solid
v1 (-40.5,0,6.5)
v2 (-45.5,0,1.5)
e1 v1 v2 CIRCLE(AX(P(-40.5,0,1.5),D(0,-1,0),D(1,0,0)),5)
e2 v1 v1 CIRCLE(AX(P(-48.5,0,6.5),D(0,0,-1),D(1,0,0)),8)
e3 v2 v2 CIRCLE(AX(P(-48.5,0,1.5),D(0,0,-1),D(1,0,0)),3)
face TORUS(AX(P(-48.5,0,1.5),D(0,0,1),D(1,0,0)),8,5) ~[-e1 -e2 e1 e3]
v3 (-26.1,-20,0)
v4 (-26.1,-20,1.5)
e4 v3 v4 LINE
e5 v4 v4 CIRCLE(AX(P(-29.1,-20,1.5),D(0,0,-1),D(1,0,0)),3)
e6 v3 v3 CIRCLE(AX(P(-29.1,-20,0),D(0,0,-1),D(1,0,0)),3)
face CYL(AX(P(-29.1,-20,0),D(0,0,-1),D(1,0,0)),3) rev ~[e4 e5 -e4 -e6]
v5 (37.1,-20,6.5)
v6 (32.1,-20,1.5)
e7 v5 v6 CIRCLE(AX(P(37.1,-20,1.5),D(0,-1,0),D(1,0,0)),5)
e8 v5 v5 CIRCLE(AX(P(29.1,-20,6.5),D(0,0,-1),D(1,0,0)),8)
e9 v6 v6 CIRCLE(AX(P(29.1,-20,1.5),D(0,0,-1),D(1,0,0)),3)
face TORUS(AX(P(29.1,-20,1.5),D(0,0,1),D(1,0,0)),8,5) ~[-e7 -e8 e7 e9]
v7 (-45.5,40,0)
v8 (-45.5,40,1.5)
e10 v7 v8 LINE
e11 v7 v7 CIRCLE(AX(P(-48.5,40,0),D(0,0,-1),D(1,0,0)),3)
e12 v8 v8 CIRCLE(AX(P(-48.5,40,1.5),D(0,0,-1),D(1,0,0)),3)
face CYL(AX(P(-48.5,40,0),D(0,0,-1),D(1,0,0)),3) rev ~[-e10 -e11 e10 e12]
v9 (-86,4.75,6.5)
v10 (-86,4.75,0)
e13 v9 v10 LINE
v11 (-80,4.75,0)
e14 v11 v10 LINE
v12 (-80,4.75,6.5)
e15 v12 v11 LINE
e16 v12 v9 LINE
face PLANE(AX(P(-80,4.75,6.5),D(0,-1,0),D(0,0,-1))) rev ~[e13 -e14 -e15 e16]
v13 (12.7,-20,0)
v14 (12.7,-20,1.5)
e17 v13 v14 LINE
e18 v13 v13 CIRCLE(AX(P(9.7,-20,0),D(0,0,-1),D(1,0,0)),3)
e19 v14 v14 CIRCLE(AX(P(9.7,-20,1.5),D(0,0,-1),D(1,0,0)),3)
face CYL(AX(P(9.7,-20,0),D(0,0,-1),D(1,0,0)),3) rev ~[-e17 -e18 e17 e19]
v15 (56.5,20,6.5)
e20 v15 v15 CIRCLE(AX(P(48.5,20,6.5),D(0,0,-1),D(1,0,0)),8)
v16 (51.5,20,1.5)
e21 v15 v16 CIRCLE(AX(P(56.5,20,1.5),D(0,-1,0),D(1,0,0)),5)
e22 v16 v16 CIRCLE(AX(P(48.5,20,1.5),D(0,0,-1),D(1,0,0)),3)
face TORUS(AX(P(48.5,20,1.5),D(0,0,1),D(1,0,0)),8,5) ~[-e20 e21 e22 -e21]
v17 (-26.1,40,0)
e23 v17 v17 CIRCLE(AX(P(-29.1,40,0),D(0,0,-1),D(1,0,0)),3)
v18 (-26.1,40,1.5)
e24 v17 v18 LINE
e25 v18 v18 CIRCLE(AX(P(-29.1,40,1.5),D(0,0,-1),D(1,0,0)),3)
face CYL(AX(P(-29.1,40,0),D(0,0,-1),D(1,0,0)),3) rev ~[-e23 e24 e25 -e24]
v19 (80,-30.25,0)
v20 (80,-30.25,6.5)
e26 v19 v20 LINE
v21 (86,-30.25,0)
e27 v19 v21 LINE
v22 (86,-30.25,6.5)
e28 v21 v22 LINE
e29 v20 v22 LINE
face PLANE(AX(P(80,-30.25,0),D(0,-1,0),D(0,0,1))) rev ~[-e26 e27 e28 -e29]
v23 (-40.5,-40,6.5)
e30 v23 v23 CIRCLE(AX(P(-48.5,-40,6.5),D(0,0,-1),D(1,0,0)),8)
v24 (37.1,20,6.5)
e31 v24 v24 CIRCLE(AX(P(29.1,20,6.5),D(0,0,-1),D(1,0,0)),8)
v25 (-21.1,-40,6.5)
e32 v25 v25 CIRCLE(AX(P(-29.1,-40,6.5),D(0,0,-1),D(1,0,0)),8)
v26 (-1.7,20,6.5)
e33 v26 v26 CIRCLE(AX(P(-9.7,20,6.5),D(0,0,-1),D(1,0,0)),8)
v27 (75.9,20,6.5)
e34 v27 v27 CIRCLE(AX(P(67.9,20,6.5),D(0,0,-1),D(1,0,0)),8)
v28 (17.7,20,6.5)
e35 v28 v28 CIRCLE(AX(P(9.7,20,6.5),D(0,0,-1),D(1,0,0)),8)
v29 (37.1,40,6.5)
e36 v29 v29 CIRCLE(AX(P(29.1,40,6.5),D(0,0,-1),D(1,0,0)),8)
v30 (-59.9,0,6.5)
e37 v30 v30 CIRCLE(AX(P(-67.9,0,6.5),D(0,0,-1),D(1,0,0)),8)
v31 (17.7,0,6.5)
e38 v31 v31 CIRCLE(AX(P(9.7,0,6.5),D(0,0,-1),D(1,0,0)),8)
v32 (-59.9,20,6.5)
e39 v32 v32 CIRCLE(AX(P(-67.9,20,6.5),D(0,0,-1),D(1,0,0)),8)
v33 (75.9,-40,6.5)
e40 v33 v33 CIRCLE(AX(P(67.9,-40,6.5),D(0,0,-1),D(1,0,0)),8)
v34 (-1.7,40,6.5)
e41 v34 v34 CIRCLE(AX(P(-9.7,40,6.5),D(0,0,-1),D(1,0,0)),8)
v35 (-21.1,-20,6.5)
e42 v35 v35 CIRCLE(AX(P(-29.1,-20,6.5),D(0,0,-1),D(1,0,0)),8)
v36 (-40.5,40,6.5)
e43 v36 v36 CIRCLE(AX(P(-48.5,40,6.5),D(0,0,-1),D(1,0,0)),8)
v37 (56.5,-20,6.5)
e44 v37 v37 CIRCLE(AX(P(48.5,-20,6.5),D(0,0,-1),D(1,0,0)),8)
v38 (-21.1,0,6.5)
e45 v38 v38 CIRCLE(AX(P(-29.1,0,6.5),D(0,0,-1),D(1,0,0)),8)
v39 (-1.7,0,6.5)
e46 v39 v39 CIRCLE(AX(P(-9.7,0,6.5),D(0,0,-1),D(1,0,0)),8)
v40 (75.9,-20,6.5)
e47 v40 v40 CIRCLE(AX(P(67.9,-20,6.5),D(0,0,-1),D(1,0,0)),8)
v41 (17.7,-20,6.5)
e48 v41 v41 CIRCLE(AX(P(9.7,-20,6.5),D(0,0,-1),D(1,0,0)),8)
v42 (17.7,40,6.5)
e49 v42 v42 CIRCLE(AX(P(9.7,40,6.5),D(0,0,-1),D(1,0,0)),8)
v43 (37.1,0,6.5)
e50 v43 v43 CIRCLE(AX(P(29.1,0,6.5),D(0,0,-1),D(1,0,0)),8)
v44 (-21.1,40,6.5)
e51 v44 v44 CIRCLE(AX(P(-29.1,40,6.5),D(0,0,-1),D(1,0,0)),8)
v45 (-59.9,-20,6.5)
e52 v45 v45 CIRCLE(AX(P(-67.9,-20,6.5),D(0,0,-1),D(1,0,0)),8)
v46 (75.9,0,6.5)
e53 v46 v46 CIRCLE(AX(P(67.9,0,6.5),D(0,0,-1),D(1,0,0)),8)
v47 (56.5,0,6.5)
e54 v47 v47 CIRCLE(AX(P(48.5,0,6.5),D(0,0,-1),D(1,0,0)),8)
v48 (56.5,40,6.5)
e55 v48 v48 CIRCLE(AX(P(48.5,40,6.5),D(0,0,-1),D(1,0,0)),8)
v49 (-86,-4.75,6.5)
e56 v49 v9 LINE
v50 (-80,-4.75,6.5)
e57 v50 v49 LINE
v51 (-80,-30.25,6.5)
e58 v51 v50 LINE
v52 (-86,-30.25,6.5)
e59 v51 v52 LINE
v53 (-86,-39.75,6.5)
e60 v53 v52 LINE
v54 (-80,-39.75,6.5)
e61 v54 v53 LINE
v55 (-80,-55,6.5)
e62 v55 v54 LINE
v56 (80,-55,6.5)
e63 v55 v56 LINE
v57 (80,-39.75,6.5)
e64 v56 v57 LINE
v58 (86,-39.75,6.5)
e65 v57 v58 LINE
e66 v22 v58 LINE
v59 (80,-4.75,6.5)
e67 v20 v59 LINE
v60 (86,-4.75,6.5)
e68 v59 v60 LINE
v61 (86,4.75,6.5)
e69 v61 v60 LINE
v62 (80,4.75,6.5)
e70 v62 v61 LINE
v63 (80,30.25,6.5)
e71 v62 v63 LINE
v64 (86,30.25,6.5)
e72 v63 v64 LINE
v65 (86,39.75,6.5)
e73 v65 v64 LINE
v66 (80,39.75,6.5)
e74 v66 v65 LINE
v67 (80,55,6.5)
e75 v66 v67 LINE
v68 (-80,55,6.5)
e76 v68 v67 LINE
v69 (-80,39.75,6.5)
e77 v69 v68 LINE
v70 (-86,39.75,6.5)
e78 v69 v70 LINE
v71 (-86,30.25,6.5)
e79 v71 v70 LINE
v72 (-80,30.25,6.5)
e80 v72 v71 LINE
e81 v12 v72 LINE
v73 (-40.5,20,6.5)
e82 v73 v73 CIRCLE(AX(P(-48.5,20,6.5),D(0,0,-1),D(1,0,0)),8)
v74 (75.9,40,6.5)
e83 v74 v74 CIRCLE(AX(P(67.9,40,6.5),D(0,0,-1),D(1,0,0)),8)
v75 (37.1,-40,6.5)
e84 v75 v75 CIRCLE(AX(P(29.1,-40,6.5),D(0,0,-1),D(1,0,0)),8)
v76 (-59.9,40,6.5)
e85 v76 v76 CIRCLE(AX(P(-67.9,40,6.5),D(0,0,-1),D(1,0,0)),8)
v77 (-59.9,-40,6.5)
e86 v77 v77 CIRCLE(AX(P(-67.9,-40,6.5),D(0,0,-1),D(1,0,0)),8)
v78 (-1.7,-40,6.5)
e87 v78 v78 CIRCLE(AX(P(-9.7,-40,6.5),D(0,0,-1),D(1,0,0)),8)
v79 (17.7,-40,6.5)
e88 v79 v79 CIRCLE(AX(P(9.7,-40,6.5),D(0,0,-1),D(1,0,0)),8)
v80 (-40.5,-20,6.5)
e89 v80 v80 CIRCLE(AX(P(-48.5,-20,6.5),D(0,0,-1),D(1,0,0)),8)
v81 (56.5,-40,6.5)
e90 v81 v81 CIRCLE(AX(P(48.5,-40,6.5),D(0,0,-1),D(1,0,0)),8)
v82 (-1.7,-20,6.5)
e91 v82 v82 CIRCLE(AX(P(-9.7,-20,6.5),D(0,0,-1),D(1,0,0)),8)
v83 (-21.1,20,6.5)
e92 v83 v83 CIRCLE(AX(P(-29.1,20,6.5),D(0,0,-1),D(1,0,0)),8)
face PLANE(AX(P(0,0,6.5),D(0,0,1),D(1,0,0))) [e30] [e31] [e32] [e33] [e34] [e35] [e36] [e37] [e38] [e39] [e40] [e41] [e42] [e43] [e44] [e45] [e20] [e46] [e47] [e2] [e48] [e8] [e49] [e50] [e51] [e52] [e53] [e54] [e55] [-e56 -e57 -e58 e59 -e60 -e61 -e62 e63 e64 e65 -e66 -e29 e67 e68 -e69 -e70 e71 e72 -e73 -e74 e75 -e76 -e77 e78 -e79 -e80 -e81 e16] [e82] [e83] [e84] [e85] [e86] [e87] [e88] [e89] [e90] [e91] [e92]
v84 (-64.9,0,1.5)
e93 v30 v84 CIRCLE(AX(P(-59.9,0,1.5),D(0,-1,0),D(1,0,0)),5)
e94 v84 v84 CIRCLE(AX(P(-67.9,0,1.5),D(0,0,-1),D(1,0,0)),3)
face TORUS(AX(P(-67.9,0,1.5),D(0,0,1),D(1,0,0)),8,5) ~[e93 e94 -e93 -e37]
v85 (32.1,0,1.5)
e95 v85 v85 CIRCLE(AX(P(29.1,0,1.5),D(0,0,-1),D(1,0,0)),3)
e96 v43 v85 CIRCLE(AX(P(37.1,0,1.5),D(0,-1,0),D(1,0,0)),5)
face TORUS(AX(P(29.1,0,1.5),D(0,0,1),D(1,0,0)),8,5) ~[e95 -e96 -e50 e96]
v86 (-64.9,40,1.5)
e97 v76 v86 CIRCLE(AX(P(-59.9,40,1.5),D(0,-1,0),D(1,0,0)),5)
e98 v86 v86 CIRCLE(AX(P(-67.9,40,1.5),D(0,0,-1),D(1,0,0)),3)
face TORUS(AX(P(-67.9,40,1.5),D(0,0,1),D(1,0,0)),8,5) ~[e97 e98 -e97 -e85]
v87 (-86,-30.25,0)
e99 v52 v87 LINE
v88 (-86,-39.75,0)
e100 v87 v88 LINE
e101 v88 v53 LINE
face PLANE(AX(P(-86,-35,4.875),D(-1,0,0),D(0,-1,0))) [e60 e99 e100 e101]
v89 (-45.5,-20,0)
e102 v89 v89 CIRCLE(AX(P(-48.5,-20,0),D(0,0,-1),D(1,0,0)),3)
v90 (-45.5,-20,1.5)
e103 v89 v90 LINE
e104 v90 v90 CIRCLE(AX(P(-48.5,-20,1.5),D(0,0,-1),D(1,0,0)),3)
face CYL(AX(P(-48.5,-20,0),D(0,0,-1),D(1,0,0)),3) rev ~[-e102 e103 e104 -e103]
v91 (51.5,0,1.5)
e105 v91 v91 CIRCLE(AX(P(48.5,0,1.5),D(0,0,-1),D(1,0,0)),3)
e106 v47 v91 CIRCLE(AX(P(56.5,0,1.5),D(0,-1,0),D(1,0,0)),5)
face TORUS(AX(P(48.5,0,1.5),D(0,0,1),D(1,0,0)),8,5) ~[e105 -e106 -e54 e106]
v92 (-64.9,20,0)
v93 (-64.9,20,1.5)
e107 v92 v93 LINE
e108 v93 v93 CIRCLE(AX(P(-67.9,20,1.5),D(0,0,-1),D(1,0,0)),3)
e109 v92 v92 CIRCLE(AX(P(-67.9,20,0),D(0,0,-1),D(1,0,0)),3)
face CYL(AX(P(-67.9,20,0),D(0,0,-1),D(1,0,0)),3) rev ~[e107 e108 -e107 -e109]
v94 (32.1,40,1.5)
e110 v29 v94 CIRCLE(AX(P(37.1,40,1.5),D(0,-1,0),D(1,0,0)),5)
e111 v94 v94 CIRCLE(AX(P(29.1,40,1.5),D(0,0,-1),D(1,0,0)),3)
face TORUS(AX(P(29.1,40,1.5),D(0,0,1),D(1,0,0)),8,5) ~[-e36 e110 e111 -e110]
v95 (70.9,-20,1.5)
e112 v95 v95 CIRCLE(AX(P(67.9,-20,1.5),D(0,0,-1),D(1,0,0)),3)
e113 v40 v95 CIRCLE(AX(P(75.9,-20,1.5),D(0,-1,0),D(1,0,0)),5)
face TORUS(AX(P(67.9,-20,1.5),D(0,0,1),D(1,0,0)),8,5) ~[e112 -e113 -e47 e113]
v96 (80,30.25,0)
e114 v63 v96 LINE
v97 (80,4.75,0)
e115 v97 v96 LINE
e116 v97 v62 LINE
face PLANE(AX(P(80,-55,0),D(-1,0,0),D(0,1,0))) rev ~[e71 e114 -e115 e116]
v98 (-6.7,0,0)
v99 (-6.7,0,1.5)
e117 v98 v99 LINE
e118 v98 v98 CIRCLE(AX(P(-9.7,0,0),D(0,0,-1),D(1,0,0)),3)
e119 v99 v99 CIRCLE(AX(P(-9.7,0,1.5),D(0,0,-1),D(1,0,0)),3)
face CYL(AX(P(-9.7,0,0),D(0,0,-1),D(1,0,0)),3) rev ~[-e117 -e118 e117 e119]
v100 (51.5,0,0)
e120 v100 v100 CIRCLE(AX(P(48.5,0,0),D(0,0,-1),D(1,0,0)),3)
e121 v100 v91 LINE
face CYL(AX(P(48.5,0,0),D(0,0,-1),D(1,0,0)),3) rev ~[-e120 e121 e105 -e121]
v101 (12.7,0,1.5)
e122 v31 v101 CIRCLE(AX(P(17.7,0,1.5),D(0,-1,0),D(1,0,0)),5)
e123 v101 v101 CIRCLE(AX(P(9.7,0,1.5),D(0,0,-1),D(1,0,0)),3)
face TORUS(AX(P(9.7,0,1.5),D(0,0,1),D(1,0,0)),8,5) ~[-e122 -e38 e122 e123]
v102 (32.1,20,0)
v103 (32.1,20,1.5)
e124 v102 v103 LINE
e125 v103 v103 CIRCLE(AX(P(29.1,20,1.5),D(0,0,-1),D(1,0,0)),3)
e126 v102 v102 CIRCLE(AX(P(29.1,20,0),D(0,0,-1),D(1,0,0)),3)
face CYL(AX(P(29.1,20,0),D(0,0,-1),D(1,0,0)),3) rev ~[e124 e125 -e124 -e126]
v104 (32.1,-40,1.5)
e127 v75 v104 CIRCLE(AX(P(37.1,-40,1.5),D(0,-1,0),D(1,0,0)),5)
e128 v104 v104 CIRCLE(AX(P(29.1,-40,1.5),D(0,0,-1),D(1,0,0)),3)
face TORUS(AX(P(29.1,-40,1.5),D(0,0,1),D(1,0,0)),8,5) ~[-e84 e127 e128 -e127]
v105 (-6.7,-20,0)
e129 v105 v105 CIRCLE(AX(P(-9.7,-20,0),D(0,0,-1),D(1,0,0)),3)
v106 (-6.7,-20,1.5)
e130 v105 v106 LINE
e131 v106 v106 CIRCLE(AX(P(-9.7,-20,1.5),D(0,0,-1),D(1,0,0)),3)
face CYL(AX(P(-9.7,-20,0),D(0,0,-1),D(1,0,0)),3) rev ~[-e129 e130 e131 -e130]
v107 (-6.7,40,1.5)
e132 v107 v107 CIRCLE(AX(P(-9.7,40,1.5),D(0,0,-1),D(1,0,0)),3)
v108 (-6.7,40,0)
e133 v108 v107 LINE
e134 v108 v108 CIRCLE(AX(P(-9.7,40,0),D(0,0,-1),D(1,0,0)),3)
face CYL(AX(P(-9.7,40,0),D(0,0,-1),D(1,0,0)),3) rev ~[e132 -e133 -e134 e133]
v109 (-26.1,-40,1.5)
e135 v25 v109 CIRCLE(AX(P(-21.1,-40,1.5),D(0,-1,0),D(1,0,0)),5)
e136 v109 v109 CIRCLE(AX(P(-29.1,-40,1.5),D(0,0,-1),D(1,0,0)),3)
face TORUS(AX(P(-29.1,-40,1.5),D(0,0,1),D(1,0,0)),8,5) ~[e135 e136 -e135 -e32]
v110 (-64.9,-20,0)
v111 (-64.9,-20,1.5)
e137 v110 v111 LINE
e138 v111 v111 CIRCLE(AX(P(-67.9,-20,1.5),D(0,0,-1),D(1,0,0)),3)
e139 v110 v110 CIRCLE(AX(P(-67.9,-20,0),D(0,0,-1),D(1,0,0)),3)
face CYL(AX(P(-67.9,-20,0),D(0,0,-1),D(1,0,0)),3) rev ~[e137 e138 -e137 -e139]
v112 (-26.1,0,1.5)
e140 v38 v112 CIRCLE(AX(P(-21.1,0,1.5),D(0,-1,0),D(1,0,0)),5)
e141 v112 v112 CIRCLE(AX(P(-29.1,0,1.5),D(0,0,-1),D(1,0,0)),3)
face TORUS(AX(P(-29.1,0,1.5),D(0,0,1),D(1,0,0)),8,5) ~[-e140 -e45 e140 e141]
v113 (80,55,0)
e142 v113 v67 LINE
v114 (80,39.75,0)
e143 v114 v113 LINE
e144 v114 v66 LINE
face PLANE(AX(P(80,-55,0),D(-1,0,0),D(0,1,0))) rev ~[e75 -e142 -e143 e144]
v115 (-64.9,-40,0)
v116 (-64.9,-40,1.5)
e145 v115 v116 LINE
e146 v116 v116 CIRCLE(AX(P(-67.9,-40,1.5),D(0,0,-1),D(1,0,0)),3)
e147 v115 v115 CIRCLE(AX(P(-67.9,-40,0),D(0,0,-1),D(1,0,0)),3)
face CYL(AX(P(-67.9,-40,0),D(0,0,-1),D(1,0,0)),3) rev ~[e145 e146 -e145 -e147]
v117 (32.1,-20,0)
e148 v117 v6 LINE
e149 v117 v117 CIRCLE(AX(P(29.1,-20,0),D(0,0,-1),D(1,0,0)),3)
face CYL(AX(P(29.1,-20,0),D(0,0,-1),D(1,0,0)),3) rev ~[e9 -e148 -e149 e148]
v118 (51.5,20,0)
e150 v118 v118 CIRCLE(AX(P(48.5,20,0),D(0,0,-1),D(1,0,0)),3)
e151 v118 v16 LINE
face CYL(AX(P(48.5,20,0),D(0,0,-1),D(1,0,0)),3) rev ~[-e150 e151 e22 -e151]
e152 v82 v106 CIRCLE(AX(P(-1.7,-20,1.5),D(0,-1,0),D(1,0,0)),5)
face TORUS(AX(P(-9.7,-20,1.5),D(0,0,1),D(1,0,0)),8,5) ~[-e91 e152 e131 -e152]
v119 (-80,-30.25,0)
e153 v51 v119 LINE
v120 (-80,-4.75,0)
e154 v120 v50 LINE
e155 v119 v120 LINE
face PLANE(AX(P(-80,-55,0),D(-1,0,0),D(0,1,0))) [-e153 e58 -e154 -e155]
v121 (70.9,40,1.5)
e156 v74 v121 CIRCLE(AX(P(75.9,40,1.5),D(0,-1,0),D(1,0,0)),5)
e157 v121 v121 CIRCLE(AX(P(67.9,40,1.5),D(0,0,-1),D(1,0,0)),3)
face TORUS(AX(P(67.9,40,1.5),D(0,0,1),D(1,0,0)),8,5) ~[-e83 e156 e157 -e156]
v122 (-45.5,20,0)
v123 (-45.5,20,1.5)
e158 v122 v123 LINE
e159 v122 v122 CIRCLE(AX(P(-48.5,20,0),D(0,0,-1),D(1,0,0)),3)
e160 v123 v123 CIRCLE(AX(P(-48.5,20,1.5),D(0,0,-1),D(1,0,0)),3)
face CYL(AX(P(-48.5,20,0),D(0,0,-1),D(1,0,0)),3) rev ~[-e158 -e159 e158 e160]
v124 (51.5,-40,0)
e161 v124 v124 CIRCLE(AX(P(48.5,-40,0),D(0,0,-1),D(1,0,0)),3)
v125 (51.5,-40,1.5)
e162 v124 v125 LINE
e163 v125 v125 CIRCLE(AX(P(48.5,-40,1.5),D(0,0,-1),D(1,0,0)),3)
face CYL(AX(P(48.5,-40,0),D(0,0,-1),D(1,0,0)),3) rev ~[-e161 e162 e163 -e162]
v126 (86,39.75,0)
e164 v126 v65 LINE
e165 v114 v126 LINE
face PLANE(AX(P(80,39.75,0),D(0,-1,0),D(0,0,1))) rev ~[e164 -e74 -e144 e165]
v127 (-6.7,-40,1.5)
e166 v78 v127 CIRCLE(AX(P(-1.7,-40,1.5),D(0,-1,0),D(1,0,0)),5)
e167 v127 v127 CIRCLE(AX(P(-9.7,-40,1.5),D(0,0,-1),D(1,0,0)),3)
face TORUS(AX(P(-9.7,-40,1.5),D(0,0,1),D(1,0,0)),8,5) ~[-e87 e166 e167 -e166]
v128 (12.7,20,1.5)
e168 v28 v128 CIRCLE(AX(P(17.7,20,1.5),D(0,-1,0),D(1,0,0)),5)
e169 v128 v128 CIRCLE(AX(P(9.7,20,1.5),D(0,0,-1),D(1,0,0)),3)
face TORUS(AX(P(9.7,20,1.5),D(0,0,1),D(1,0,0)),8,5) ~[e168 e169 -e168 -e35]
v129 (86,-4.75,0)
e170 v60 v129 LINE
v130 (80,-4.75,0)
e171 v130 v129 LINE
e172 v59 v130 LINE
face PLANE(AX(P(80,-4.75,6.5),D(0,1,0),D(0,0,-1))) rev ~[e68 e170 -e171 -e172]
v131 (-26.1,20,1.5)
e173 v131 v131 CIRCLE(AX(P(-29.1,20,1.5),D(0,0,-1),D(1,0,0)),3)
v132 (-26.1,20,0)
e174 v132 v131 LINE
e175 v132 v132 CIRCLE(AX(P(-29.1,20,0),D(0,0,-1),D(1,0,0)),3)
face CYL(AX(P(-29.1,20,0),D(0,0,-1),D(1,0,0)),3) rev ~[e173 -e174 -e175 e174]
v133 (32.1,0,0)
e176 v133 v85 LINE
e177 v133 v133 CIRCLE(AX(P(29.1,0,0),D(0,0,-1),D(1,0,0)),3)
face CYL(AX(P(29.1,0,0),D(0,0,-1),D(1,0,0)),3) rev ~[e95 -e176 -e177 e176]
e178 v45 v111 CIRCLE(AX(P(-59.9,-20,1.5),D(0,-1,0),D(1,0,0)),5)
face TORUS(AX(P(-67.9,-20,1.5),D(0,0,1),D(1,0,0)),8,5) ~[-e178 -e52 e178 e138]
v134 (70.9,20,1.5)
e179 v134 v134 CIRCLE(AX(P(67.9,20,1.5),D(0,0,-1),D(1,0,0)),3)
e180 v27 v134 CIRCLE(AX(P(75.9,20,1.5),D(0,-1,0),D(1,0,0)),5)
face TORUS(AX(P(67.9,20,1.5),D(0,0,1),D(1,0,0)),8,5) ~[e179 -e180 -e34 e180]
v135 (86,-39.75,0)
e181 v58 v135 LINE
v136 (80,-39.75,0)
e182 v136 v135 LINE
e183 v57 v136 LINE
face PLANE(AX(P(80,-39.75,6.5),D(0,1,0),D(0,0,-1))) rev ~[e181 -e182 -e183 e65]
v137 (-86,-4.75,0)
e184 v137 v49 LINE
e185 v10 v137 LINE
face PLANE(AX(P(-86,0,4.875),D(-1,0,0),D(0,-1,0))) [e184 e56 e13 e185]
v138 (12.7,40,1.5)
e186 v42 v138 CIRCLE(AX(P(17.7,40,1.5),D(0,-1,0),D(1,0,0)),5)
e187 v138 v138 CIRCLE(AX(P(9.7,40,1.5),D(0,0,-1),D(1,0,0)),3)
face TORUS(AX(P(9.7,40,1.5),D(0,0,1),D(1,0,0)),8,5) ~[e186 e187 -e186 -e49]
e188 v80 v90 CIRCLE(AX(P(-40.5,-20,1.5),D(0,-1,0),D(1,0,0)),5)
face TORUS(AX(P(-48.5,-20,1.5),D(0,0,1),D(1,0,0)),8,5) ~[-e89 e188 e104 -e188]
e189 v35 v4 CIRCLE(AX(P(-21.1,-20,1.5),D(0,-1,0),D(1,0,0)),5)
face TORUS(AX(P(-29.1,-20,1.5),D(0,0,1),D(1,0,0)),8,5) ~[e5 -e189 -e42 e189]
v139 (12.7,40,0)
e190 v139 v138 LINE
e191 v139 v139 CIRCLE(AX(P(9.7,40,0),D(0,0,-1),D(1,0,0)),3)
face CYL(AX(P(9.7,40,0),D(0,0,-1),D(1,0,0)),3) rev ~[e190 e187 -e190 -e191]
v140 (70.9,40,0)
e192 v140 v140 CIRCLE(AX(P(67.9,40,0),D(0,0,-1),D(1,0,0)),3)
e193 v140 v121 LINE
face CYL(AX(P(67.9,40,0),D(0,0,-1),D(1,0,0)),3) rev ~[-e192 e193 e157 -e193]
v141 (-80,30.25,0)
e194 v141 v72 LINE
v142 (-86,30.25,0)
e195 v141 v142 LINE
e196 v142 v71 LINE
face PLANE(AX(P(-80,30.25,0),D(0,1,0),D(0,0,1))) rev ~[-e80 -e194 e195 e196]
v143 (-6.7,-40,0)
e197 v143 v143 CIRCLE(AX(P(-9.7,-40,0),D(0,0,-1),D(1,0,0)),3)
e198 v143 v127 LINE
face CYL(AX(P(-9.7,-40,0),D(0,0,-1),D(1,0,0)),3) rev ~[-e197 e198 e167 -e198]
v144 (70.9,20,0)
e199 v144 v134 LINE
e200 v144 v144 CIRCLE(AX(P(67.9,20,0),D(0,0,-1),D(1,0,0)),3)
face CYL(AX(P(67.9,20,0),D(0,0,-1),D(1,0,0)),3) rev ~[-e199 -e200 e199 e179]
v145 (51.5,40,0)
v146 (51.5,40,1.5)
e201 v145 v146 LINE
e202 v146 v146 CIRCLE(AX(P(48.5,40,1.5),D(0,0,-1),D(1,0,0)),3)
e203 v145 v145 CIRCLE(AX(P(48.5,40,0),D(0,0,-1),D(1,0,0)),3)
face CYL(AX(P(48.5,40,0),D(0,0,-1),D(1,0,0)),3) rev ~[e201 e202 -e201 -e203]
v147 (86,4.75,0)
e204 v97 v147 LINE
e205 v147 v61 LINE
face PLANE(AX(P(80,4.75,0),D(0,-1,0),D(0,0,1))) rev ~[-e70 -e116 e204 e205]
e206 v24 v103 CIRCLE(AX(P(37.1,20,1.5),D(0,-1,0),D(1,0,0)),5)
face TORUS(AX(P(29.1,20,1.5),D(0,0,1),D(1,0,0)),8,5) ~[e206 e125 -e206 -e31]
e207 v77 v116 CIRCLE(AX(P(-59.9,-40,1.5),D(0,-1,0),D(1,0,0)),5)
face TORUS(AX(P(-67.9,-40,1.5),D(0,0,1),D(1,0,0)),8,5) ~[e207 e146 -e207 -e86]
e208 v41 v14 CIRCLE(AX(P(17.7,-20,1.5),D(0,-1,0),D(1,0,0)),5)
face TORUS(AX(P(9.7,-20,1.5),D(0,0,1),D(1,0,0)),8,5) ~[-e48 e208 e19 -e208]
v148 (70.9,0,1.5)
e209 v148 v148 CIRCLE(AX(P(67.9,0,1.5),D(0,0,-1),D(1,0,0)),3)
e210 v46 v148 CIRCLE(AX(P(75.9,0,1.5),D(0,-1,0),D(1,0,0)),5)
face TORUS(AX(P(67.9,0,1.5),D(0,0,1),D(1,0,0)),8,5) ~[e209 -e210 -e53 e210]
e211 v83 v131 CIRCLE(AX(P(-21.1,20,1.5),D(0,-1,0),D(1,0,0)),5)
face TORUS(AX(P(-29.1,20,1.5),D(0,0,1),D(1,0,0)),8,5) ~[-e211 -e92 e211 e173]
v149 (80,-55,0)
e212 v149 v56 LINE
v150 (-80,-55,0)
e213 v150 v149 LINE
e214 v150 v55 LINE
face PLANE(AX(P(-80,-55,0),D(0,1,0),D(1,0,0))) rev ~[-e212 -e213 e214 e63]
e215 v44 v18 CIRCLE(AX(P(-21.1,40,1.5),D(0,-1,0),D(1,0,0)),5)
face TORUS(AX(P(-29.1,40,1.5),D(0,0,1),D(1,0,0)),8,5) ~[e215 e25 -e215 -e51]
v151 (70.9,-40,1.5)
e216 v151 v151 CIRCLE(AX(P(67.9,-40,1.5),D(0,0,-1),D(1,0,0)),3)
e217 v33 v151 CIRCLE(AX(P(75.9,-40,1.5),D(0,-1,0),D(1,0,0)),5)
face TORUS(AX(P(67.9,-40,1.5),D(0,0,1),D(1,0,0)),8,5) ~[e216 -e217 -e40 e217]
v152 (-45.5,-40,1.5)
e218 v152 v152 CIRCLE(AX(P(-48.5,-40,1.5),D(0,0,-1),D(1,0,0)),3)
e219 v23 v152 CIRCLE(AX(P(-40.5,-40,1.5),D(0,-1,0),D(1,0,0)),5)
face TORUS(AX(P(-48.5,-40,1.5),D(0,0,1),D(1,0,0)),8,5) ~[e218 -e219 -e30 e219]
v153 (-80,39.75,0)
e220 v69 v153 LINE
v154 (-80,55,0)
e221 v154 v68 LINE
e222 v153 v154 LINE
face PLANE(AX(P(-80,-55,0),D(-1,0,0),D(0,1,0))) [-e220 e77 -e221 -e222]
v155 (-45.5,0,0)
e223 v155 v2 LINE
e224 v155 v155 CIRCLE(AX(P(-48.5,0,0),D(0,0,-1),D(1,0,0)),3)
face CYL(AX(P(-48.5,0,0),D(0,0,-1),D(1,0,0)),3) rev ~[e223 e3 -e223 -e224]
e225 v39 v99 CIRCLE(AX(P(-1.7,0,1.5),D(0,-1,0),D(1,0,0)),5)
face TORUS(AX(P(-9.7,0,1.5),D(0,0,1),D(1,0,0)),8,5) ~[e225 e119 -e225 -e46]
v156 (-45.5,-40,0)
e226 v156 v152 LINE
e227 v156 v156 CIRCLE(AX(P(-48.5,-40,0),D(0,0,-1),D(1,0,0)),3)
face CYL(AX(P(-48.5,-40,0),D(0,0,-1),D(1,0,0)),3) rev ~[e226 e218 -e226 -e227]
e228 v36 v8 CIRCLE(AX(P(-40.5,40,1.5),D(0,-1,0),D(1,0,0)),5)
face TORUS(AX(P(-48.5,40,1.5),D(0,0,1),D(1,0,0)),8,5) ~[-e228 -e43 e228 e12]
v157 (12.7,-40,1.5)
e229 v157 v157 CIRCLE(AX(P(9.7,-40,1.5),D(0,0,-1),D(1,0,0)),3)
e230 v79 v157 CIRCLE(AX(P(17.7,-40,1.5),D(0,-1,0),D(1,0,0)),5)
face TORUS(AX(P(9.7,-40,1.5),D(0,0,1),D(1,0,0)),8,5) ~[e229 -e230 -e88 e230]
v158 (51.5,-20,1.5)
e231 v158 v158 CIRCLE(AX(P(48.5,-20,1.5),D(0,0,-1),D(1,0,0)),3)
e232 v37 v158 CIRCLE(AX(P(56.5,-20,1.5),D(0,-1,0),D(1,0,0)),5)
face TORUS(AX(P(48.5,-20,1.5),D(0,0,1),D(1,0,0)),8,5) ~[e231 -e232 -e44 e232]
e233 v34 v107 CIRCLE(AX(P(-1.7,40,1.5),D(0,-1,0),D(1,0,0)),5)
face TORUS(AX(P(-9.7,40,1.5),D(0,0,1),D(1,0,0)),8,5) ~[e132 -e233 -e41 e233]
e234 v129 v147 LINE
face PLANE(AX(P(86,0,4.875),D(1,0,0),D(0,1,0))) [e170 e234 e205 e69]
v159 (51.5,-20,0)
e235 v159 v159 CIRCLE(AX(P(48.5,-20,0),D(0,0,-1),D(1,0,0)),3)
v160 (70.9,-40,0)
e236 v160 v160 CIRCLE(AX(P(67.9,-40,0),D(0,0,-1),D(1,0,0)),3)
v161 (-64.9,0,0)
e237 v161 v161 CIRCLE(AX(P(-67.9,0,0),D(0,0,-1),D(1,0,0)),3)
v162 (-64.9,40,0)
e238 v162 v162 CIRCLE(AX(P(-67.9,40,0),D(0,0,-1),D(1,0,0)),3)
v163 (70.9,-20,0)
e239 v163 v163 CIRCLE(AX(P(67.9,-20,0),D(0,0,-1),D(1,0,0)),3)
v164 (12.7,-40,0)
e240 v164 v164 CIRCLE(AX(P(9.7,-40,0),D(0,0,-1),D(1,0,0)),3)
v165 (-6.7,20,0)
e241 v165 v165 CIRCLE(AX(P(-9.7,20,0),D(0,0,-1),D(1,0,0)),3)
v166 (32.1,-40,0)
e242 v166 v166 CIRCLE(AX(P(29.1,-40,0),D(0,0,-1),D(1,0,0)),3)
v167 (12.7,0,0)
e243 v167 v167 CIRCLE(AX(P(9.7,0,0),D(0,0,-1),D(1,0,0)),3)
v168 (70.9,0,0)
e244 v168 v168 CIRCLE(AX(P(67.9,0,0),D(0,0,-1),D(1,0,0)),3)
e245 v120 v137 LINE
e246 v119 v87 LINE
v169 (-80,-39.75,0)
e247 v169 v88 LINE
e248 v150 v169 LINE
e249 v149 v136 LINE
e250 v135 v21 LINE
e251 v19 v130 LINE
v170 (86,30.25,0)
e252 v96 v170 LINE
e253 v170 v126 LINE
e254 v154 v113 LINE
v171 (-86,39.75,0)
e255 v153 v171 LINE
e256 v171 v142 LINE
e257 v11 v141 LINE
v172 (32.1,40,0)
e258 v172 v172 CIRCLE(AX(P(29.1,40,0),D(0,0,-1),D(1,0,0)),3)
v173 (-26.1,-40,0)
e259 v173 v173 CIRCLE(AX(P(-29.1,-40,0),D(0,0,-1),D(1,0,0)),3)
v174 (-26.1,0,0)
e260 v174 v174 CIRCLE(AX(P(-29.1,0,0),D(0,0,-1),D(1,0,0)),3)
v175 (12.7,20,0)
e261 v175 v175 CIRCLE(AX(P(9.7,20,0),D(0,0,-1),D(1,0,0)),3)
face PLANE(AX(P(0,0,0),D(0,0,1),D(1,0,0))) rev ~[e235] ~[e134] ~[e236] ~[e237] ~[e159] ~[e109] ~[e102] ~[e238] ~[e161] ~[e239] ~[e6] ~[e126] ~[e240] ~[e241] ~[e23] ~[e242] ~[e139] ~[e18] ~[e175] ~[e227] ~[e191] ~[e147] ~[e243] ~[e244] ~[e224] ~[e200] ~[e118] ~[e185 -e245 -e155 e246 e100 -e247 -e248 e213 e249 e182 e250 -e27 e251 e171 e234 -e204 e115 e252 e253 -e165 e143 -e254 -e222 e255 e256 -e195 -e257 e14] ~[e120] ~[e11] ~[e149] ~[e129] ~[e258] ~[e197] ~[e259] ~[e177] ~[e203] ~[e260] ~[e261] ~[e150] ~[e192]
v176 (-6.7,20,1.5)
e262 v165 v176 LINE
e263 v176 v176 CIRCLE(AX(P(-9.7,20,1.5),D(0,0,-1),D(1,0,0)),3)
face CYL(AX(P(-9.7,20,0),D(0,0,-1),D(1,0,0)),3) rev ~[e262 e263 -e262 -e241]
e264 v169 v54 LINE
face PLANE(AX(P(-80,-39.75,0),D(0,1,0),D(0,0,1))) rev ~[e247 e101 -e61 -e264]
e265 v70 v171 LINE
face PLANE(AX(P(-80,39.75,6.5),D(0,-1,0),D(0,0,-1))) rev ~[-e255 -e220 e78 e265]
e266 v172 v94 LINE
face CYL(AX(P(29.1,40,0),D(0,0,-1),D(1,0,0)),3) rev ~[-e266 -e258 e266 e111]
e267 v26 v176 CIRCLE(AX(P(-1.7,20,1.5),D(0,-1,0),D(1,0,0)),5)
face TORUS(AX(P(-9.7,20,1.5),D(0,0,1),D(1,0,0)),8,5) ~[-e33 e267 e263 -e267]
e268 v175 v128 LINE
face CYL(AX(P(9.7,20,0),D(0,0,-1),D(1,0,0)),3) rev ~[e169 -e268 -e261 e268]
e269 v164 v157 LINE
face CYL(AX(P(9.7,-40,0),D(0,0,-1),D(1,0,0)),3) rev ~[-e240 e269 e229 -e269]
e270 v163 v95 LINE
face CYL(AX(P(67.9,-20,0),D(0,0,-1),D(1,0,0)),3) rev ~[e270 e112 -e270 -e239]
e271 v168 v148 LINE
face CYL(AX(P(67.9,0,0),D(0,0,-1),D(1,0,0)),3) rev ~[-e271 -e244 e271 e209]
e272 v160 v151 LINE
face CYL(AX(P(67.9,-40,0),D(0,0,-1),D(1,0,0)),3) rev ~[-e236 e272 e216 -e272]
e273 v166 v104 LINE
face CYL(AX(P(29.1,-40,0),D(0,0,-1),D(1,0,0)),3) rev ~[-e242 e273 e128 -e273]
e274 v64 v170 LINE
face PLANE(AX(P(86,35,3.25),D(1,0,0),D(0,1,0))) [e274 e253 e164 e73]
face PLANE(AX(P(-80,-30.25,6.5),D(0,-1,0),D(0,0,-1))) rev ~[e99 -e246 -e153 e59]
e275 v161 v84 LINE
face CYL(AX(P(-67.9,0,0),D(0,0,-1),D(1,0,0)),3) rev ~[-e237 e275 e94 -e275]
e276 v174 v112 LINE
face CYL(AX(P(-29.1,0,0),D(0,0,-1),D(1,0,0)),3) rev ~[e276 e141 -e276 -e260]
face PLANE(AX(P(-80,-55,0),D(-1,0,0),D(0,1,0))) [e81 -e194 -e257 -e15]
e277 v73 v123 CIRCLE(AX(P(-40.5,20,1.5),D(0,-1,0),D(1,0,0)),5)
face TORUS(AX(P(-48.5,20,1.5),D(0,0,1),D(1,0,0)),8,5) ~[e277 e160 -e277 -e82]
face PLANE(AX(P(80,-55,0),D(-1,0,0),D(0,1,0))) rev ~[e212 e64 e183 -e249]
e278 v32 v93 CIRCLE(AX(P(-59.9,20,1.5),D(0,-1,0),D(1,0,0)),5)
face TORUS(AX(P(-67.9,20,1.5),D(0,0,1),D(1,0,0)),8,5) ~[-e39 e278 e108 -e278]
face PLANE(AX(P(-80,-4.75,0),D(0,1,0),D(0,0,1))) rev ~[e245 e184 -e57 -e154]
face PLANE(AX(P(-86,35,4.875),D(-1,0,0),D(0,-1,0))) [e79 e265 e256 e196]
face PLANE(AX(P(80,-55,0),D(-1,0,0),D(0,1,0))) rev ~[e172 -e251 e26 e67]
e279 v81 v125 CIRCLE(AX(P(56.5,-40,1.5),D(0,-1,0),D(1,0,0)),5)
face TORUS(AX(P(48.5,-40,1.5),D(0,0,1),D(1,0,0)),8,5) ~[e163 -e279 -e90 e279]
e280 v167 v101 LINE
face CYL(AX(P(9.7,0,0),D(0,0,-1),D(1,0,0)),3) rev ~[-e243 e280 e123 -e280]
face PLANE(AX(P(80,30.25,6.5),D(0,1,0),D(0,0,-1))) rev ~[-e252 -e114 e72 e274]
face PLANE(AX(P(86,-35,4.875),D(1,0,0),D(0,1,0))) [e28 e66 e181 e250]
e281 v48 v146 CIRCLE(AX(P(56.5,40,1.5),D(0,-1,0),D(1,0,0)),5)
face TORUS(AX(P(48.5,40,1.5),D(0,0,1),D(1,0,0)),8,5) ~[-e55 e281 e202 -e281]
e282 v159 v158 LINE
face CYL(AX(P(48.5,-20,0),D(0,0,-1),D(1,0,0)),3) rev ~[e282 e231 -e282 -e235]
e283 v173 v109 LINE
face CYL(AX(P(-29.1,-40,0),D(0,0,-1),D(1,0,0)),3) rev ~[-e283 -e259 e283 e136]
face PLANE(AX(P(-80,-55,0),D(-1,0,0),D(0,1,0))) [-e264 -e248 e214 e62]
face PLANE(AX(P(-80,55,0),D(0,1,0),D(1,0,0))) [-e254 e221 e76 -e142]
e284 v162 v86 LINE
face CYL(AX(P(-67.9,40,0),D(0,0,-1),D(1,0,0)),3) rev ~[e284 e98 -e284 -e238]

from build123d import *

# Parameters (mm, degrees)
F0_W     = 160
F0_H     = 110
F1_DEPTH = 6.5
F3_DEPTH = 6
F5_DEPTH = 6
F6_R     = 3
F7_DEPTH = 25
F8_R     = 5
F9_R     = 5


with BuildPart() as f1:
    # F0 (on Top) → F1 (new body)
    with BuildSketch(Plane.XY):
        Rectangle(F0_W, F0_H)
    extrude(amount=F1_DEPTH)

    # F2 (on face) → F3 (join)
    with BuildSketch(Plane(origin=(-80, 0, 0), x_dir=(0, -1, 0), z_dir=(-1, 0, 0))):
        Polygon((-39.75, 6.5), (-39.75, 3.25), (-35, 3.25), (-30.25, 3.25), (-30.25, 6.5), align=None)
        Polygon((-35, 3.25), (-39.75, 3.25), (-39.75, 0), (-30.25, 0), (-30.25, 3.25), align=None)
        Polygon((-4.75, 6.5), (-4.75, 3.25), (0, 3.25), (4.75, 3.25), (4.75, 6.5), align=None)
        Polygon((0, 3.25), (-4.75, 3.25), (-4.75, 0), (4.75, 0), (4.75, 3.25), align=None)
        Polygon((39.75, 6.5), (30.25, 6.5), (30.25, 3.25), (35, 3.25), (39.75, 3.25), align=None)
        Polygon((30.25, 3.25), (30.25, 0), (39.75, 0), (39.75, 3.25), (35, 3.25), align=None)
    extrude(amount=F3_DEPTH)

    # F4 (on face) → F5 (join)
    with BuildSketch(Plane.YZ.offset(80)):
        Polygon((-39.75, 6.5), (-39.75, 3.25), (-35, 3.25), (-30.25, 3.25), (-30.25, 6.5), align=None)
        Polygon((-35, 3.25), (-39.75, 3.25), (-39.75, 0), (-30.25, 0), (-30.25, 3.25), align=None)
        Polygon((-4.75, 6.5), (-4.75, 3.25), (0, 3.25), (4.75, 3.25), (4.75, 6.5), align=None)
        Polygon((0, 3.25), (-4.75, 3.25), (-4.75, 0), (4.75, 0), (4.75, 3.25), align=None)
        Polygon((39.75, 6.5), (30.25, 6.5), (30.25, 3.25), (30.25, 0), (39.75, 0), align=None)
    extrude(amount=F5_DEPTH)

    # F6 (on face) → F7 (cut)
    with BuildSketch(Plane(origin=(0, 0, 0), x_dir=(1, 0, 0), z_dir=(0, 0, -1))):
        with Locations((-67.9, 40)):
            Circle(F6_R)
        with Locations((-48.5, 40)):
            Circle(F6_R)
        with Locations((-29.1, 40)):
            Circle(F6_R)
        with Locations((-9.7, 40)):
            Circle(F6_R)
        with Locations((9.7, 40)):
            Circle(F6_R)
        with Locations((29.1, 40)):
            Circle(F6_R)
        with Locations((48.5, 40)):
            Circle(F6_R)
        with Locations((67.9, 40)):
            Circle(F6_R)
        with Locations((67.9, 20)):
            Circle(F6_R)
        with Locations((48.5, 20)):
            Circle(F6_R)
        with Locations((29.1, 20)):
            Circle(F6_R)
        with Locations((9.7, 20)):
            Circle(F6_R)
        with Locations((-9.7, 20)):
            Circle(F6_R)
        with Locations((-29.1, 20)):
            Circle(F6_R)
        with Locations((-48.5, 20)):
            Circle(F6_R)
        with Locations((-67.9, 20)):
            Circle(F6_R)
        with Locations((-67.9, 0)):
            Circle(F6_R)
        with Locations((-48.5, 0)):
            Circle(F6_R)
        with Locations((-29.1, 0)):
            Circle(F6_R)
        with Locations((-9.7, 0)):
            Circle(F6_R)
        with Locations((9.7, 0)):
            Circle(F6_R)
        with Locations((29.1, 0)):
            Circle(F6_R)
        with Locations((48.5, 0)):
            Circle(F6_R)
        with Locations((67.9, 0)):
            Circle(F6_R)
        with Locations((67.9, -20)):
            Circle(F6_R)
        with Locations((48.5, -20)):
            Circle(F6_R)
        with Locations((29.1, -20)):
            Circle(F6_R)
        with Locations((9.7, -20)):
            Circle(F6_R)
        with Locations((-9.7, -20)):
            Circle(F6_R)
        with Locations((-29.1, -20)):
            Circle(F6_R)
        with Locations((-48.5, -20)):
            Circle(F6_R)
        with Locations((-67.9, -20)):
            Circle(F6_R)
        with Locations((-67.9, -40)):
            Circle(F6_R)
        with Locations((-48.5, -40)):
            Circle(F6_R)
        with Locations((-29.1, -40)):
            Circle(F6_R)
        with Locations((-9.7, -40)):
            Circle(F6_R)
        with Locations((9.7, -40)):
            Circle(F6_R)
        with Locations((29.1, -40)):
            Circle(F6_R)
        with Locations((48.5, -40)):
            Circle(F6_R)
        with Locations((67.9, -40)):
            Circle(F6_R)
    extrude(amount=-F7_DEPTH, mode=Mode.SUBTRACT)

    # F8
    f8_edges = [f1.edges().sort_by_distance(p)[0] for p in [
        (-70.9, 40, 6.5),
        (-51.5, 40, 6.5),
        (-32.1, 40, 6.5),
        (-12.7, 40, 6.5),
        (6.7, 40, 6.5),
        (26.1, 40, 6.5),
        (45.5, 40, 6.5),
        (64.9, 40, 6.5),
        (64.9, 20, 6.5),
        (45.5, 20, 6.5),
        (26.1, 20, 6.5),
        (6.7, 20, 6.5),
        (-12.7, 20, 6.5),
        (-32.1, 20, 6.5),
        (-51.5, 20, 6.5),
        (-70.9, 20, 6.5),
    ]]
    fillet(f8_edges, radius=F8_R)

    # F9
    f9_edges = [f1.edges().sort_by_distance(p)[0] for p in [
        (-70.9, 0, 6.5),
        (-51.5, 0, 6.5),
        (-32.1, 0, 6.5),
        (-12.7, 0, 6.5),
        (6.7, 0, 6.5),
        (26.1, 0, 6.5),
        (45.5, 0, 6.5),
        (64.9, 0, 6.5),
        (64.9, -20, 6.5),
        (45.5, -20, 6.5),
        (26.1, -20, 6.5),
        (6.7, -20, 6.5),
        (-12.7, -20, 6.5),
        (-32.1, -20, 6.5),
        (-51.5, -20, 6.5),
        (-70.9, -20, 6.5),
        (-70.9, -40, 6.5),
        (-51.5, -40, 6.5),
        (-32.1, -40, 6.5),
        (-12.7, -40, 6.5),
        (6.7, -40, 6.5),
        (26.1, -40, 6.5),
        (45.5, -40, 6.5),
        (64.9, -40, 6.5),
    ]]
    fillet(f9_edges, radius=F9_R)


solid = f1.part
